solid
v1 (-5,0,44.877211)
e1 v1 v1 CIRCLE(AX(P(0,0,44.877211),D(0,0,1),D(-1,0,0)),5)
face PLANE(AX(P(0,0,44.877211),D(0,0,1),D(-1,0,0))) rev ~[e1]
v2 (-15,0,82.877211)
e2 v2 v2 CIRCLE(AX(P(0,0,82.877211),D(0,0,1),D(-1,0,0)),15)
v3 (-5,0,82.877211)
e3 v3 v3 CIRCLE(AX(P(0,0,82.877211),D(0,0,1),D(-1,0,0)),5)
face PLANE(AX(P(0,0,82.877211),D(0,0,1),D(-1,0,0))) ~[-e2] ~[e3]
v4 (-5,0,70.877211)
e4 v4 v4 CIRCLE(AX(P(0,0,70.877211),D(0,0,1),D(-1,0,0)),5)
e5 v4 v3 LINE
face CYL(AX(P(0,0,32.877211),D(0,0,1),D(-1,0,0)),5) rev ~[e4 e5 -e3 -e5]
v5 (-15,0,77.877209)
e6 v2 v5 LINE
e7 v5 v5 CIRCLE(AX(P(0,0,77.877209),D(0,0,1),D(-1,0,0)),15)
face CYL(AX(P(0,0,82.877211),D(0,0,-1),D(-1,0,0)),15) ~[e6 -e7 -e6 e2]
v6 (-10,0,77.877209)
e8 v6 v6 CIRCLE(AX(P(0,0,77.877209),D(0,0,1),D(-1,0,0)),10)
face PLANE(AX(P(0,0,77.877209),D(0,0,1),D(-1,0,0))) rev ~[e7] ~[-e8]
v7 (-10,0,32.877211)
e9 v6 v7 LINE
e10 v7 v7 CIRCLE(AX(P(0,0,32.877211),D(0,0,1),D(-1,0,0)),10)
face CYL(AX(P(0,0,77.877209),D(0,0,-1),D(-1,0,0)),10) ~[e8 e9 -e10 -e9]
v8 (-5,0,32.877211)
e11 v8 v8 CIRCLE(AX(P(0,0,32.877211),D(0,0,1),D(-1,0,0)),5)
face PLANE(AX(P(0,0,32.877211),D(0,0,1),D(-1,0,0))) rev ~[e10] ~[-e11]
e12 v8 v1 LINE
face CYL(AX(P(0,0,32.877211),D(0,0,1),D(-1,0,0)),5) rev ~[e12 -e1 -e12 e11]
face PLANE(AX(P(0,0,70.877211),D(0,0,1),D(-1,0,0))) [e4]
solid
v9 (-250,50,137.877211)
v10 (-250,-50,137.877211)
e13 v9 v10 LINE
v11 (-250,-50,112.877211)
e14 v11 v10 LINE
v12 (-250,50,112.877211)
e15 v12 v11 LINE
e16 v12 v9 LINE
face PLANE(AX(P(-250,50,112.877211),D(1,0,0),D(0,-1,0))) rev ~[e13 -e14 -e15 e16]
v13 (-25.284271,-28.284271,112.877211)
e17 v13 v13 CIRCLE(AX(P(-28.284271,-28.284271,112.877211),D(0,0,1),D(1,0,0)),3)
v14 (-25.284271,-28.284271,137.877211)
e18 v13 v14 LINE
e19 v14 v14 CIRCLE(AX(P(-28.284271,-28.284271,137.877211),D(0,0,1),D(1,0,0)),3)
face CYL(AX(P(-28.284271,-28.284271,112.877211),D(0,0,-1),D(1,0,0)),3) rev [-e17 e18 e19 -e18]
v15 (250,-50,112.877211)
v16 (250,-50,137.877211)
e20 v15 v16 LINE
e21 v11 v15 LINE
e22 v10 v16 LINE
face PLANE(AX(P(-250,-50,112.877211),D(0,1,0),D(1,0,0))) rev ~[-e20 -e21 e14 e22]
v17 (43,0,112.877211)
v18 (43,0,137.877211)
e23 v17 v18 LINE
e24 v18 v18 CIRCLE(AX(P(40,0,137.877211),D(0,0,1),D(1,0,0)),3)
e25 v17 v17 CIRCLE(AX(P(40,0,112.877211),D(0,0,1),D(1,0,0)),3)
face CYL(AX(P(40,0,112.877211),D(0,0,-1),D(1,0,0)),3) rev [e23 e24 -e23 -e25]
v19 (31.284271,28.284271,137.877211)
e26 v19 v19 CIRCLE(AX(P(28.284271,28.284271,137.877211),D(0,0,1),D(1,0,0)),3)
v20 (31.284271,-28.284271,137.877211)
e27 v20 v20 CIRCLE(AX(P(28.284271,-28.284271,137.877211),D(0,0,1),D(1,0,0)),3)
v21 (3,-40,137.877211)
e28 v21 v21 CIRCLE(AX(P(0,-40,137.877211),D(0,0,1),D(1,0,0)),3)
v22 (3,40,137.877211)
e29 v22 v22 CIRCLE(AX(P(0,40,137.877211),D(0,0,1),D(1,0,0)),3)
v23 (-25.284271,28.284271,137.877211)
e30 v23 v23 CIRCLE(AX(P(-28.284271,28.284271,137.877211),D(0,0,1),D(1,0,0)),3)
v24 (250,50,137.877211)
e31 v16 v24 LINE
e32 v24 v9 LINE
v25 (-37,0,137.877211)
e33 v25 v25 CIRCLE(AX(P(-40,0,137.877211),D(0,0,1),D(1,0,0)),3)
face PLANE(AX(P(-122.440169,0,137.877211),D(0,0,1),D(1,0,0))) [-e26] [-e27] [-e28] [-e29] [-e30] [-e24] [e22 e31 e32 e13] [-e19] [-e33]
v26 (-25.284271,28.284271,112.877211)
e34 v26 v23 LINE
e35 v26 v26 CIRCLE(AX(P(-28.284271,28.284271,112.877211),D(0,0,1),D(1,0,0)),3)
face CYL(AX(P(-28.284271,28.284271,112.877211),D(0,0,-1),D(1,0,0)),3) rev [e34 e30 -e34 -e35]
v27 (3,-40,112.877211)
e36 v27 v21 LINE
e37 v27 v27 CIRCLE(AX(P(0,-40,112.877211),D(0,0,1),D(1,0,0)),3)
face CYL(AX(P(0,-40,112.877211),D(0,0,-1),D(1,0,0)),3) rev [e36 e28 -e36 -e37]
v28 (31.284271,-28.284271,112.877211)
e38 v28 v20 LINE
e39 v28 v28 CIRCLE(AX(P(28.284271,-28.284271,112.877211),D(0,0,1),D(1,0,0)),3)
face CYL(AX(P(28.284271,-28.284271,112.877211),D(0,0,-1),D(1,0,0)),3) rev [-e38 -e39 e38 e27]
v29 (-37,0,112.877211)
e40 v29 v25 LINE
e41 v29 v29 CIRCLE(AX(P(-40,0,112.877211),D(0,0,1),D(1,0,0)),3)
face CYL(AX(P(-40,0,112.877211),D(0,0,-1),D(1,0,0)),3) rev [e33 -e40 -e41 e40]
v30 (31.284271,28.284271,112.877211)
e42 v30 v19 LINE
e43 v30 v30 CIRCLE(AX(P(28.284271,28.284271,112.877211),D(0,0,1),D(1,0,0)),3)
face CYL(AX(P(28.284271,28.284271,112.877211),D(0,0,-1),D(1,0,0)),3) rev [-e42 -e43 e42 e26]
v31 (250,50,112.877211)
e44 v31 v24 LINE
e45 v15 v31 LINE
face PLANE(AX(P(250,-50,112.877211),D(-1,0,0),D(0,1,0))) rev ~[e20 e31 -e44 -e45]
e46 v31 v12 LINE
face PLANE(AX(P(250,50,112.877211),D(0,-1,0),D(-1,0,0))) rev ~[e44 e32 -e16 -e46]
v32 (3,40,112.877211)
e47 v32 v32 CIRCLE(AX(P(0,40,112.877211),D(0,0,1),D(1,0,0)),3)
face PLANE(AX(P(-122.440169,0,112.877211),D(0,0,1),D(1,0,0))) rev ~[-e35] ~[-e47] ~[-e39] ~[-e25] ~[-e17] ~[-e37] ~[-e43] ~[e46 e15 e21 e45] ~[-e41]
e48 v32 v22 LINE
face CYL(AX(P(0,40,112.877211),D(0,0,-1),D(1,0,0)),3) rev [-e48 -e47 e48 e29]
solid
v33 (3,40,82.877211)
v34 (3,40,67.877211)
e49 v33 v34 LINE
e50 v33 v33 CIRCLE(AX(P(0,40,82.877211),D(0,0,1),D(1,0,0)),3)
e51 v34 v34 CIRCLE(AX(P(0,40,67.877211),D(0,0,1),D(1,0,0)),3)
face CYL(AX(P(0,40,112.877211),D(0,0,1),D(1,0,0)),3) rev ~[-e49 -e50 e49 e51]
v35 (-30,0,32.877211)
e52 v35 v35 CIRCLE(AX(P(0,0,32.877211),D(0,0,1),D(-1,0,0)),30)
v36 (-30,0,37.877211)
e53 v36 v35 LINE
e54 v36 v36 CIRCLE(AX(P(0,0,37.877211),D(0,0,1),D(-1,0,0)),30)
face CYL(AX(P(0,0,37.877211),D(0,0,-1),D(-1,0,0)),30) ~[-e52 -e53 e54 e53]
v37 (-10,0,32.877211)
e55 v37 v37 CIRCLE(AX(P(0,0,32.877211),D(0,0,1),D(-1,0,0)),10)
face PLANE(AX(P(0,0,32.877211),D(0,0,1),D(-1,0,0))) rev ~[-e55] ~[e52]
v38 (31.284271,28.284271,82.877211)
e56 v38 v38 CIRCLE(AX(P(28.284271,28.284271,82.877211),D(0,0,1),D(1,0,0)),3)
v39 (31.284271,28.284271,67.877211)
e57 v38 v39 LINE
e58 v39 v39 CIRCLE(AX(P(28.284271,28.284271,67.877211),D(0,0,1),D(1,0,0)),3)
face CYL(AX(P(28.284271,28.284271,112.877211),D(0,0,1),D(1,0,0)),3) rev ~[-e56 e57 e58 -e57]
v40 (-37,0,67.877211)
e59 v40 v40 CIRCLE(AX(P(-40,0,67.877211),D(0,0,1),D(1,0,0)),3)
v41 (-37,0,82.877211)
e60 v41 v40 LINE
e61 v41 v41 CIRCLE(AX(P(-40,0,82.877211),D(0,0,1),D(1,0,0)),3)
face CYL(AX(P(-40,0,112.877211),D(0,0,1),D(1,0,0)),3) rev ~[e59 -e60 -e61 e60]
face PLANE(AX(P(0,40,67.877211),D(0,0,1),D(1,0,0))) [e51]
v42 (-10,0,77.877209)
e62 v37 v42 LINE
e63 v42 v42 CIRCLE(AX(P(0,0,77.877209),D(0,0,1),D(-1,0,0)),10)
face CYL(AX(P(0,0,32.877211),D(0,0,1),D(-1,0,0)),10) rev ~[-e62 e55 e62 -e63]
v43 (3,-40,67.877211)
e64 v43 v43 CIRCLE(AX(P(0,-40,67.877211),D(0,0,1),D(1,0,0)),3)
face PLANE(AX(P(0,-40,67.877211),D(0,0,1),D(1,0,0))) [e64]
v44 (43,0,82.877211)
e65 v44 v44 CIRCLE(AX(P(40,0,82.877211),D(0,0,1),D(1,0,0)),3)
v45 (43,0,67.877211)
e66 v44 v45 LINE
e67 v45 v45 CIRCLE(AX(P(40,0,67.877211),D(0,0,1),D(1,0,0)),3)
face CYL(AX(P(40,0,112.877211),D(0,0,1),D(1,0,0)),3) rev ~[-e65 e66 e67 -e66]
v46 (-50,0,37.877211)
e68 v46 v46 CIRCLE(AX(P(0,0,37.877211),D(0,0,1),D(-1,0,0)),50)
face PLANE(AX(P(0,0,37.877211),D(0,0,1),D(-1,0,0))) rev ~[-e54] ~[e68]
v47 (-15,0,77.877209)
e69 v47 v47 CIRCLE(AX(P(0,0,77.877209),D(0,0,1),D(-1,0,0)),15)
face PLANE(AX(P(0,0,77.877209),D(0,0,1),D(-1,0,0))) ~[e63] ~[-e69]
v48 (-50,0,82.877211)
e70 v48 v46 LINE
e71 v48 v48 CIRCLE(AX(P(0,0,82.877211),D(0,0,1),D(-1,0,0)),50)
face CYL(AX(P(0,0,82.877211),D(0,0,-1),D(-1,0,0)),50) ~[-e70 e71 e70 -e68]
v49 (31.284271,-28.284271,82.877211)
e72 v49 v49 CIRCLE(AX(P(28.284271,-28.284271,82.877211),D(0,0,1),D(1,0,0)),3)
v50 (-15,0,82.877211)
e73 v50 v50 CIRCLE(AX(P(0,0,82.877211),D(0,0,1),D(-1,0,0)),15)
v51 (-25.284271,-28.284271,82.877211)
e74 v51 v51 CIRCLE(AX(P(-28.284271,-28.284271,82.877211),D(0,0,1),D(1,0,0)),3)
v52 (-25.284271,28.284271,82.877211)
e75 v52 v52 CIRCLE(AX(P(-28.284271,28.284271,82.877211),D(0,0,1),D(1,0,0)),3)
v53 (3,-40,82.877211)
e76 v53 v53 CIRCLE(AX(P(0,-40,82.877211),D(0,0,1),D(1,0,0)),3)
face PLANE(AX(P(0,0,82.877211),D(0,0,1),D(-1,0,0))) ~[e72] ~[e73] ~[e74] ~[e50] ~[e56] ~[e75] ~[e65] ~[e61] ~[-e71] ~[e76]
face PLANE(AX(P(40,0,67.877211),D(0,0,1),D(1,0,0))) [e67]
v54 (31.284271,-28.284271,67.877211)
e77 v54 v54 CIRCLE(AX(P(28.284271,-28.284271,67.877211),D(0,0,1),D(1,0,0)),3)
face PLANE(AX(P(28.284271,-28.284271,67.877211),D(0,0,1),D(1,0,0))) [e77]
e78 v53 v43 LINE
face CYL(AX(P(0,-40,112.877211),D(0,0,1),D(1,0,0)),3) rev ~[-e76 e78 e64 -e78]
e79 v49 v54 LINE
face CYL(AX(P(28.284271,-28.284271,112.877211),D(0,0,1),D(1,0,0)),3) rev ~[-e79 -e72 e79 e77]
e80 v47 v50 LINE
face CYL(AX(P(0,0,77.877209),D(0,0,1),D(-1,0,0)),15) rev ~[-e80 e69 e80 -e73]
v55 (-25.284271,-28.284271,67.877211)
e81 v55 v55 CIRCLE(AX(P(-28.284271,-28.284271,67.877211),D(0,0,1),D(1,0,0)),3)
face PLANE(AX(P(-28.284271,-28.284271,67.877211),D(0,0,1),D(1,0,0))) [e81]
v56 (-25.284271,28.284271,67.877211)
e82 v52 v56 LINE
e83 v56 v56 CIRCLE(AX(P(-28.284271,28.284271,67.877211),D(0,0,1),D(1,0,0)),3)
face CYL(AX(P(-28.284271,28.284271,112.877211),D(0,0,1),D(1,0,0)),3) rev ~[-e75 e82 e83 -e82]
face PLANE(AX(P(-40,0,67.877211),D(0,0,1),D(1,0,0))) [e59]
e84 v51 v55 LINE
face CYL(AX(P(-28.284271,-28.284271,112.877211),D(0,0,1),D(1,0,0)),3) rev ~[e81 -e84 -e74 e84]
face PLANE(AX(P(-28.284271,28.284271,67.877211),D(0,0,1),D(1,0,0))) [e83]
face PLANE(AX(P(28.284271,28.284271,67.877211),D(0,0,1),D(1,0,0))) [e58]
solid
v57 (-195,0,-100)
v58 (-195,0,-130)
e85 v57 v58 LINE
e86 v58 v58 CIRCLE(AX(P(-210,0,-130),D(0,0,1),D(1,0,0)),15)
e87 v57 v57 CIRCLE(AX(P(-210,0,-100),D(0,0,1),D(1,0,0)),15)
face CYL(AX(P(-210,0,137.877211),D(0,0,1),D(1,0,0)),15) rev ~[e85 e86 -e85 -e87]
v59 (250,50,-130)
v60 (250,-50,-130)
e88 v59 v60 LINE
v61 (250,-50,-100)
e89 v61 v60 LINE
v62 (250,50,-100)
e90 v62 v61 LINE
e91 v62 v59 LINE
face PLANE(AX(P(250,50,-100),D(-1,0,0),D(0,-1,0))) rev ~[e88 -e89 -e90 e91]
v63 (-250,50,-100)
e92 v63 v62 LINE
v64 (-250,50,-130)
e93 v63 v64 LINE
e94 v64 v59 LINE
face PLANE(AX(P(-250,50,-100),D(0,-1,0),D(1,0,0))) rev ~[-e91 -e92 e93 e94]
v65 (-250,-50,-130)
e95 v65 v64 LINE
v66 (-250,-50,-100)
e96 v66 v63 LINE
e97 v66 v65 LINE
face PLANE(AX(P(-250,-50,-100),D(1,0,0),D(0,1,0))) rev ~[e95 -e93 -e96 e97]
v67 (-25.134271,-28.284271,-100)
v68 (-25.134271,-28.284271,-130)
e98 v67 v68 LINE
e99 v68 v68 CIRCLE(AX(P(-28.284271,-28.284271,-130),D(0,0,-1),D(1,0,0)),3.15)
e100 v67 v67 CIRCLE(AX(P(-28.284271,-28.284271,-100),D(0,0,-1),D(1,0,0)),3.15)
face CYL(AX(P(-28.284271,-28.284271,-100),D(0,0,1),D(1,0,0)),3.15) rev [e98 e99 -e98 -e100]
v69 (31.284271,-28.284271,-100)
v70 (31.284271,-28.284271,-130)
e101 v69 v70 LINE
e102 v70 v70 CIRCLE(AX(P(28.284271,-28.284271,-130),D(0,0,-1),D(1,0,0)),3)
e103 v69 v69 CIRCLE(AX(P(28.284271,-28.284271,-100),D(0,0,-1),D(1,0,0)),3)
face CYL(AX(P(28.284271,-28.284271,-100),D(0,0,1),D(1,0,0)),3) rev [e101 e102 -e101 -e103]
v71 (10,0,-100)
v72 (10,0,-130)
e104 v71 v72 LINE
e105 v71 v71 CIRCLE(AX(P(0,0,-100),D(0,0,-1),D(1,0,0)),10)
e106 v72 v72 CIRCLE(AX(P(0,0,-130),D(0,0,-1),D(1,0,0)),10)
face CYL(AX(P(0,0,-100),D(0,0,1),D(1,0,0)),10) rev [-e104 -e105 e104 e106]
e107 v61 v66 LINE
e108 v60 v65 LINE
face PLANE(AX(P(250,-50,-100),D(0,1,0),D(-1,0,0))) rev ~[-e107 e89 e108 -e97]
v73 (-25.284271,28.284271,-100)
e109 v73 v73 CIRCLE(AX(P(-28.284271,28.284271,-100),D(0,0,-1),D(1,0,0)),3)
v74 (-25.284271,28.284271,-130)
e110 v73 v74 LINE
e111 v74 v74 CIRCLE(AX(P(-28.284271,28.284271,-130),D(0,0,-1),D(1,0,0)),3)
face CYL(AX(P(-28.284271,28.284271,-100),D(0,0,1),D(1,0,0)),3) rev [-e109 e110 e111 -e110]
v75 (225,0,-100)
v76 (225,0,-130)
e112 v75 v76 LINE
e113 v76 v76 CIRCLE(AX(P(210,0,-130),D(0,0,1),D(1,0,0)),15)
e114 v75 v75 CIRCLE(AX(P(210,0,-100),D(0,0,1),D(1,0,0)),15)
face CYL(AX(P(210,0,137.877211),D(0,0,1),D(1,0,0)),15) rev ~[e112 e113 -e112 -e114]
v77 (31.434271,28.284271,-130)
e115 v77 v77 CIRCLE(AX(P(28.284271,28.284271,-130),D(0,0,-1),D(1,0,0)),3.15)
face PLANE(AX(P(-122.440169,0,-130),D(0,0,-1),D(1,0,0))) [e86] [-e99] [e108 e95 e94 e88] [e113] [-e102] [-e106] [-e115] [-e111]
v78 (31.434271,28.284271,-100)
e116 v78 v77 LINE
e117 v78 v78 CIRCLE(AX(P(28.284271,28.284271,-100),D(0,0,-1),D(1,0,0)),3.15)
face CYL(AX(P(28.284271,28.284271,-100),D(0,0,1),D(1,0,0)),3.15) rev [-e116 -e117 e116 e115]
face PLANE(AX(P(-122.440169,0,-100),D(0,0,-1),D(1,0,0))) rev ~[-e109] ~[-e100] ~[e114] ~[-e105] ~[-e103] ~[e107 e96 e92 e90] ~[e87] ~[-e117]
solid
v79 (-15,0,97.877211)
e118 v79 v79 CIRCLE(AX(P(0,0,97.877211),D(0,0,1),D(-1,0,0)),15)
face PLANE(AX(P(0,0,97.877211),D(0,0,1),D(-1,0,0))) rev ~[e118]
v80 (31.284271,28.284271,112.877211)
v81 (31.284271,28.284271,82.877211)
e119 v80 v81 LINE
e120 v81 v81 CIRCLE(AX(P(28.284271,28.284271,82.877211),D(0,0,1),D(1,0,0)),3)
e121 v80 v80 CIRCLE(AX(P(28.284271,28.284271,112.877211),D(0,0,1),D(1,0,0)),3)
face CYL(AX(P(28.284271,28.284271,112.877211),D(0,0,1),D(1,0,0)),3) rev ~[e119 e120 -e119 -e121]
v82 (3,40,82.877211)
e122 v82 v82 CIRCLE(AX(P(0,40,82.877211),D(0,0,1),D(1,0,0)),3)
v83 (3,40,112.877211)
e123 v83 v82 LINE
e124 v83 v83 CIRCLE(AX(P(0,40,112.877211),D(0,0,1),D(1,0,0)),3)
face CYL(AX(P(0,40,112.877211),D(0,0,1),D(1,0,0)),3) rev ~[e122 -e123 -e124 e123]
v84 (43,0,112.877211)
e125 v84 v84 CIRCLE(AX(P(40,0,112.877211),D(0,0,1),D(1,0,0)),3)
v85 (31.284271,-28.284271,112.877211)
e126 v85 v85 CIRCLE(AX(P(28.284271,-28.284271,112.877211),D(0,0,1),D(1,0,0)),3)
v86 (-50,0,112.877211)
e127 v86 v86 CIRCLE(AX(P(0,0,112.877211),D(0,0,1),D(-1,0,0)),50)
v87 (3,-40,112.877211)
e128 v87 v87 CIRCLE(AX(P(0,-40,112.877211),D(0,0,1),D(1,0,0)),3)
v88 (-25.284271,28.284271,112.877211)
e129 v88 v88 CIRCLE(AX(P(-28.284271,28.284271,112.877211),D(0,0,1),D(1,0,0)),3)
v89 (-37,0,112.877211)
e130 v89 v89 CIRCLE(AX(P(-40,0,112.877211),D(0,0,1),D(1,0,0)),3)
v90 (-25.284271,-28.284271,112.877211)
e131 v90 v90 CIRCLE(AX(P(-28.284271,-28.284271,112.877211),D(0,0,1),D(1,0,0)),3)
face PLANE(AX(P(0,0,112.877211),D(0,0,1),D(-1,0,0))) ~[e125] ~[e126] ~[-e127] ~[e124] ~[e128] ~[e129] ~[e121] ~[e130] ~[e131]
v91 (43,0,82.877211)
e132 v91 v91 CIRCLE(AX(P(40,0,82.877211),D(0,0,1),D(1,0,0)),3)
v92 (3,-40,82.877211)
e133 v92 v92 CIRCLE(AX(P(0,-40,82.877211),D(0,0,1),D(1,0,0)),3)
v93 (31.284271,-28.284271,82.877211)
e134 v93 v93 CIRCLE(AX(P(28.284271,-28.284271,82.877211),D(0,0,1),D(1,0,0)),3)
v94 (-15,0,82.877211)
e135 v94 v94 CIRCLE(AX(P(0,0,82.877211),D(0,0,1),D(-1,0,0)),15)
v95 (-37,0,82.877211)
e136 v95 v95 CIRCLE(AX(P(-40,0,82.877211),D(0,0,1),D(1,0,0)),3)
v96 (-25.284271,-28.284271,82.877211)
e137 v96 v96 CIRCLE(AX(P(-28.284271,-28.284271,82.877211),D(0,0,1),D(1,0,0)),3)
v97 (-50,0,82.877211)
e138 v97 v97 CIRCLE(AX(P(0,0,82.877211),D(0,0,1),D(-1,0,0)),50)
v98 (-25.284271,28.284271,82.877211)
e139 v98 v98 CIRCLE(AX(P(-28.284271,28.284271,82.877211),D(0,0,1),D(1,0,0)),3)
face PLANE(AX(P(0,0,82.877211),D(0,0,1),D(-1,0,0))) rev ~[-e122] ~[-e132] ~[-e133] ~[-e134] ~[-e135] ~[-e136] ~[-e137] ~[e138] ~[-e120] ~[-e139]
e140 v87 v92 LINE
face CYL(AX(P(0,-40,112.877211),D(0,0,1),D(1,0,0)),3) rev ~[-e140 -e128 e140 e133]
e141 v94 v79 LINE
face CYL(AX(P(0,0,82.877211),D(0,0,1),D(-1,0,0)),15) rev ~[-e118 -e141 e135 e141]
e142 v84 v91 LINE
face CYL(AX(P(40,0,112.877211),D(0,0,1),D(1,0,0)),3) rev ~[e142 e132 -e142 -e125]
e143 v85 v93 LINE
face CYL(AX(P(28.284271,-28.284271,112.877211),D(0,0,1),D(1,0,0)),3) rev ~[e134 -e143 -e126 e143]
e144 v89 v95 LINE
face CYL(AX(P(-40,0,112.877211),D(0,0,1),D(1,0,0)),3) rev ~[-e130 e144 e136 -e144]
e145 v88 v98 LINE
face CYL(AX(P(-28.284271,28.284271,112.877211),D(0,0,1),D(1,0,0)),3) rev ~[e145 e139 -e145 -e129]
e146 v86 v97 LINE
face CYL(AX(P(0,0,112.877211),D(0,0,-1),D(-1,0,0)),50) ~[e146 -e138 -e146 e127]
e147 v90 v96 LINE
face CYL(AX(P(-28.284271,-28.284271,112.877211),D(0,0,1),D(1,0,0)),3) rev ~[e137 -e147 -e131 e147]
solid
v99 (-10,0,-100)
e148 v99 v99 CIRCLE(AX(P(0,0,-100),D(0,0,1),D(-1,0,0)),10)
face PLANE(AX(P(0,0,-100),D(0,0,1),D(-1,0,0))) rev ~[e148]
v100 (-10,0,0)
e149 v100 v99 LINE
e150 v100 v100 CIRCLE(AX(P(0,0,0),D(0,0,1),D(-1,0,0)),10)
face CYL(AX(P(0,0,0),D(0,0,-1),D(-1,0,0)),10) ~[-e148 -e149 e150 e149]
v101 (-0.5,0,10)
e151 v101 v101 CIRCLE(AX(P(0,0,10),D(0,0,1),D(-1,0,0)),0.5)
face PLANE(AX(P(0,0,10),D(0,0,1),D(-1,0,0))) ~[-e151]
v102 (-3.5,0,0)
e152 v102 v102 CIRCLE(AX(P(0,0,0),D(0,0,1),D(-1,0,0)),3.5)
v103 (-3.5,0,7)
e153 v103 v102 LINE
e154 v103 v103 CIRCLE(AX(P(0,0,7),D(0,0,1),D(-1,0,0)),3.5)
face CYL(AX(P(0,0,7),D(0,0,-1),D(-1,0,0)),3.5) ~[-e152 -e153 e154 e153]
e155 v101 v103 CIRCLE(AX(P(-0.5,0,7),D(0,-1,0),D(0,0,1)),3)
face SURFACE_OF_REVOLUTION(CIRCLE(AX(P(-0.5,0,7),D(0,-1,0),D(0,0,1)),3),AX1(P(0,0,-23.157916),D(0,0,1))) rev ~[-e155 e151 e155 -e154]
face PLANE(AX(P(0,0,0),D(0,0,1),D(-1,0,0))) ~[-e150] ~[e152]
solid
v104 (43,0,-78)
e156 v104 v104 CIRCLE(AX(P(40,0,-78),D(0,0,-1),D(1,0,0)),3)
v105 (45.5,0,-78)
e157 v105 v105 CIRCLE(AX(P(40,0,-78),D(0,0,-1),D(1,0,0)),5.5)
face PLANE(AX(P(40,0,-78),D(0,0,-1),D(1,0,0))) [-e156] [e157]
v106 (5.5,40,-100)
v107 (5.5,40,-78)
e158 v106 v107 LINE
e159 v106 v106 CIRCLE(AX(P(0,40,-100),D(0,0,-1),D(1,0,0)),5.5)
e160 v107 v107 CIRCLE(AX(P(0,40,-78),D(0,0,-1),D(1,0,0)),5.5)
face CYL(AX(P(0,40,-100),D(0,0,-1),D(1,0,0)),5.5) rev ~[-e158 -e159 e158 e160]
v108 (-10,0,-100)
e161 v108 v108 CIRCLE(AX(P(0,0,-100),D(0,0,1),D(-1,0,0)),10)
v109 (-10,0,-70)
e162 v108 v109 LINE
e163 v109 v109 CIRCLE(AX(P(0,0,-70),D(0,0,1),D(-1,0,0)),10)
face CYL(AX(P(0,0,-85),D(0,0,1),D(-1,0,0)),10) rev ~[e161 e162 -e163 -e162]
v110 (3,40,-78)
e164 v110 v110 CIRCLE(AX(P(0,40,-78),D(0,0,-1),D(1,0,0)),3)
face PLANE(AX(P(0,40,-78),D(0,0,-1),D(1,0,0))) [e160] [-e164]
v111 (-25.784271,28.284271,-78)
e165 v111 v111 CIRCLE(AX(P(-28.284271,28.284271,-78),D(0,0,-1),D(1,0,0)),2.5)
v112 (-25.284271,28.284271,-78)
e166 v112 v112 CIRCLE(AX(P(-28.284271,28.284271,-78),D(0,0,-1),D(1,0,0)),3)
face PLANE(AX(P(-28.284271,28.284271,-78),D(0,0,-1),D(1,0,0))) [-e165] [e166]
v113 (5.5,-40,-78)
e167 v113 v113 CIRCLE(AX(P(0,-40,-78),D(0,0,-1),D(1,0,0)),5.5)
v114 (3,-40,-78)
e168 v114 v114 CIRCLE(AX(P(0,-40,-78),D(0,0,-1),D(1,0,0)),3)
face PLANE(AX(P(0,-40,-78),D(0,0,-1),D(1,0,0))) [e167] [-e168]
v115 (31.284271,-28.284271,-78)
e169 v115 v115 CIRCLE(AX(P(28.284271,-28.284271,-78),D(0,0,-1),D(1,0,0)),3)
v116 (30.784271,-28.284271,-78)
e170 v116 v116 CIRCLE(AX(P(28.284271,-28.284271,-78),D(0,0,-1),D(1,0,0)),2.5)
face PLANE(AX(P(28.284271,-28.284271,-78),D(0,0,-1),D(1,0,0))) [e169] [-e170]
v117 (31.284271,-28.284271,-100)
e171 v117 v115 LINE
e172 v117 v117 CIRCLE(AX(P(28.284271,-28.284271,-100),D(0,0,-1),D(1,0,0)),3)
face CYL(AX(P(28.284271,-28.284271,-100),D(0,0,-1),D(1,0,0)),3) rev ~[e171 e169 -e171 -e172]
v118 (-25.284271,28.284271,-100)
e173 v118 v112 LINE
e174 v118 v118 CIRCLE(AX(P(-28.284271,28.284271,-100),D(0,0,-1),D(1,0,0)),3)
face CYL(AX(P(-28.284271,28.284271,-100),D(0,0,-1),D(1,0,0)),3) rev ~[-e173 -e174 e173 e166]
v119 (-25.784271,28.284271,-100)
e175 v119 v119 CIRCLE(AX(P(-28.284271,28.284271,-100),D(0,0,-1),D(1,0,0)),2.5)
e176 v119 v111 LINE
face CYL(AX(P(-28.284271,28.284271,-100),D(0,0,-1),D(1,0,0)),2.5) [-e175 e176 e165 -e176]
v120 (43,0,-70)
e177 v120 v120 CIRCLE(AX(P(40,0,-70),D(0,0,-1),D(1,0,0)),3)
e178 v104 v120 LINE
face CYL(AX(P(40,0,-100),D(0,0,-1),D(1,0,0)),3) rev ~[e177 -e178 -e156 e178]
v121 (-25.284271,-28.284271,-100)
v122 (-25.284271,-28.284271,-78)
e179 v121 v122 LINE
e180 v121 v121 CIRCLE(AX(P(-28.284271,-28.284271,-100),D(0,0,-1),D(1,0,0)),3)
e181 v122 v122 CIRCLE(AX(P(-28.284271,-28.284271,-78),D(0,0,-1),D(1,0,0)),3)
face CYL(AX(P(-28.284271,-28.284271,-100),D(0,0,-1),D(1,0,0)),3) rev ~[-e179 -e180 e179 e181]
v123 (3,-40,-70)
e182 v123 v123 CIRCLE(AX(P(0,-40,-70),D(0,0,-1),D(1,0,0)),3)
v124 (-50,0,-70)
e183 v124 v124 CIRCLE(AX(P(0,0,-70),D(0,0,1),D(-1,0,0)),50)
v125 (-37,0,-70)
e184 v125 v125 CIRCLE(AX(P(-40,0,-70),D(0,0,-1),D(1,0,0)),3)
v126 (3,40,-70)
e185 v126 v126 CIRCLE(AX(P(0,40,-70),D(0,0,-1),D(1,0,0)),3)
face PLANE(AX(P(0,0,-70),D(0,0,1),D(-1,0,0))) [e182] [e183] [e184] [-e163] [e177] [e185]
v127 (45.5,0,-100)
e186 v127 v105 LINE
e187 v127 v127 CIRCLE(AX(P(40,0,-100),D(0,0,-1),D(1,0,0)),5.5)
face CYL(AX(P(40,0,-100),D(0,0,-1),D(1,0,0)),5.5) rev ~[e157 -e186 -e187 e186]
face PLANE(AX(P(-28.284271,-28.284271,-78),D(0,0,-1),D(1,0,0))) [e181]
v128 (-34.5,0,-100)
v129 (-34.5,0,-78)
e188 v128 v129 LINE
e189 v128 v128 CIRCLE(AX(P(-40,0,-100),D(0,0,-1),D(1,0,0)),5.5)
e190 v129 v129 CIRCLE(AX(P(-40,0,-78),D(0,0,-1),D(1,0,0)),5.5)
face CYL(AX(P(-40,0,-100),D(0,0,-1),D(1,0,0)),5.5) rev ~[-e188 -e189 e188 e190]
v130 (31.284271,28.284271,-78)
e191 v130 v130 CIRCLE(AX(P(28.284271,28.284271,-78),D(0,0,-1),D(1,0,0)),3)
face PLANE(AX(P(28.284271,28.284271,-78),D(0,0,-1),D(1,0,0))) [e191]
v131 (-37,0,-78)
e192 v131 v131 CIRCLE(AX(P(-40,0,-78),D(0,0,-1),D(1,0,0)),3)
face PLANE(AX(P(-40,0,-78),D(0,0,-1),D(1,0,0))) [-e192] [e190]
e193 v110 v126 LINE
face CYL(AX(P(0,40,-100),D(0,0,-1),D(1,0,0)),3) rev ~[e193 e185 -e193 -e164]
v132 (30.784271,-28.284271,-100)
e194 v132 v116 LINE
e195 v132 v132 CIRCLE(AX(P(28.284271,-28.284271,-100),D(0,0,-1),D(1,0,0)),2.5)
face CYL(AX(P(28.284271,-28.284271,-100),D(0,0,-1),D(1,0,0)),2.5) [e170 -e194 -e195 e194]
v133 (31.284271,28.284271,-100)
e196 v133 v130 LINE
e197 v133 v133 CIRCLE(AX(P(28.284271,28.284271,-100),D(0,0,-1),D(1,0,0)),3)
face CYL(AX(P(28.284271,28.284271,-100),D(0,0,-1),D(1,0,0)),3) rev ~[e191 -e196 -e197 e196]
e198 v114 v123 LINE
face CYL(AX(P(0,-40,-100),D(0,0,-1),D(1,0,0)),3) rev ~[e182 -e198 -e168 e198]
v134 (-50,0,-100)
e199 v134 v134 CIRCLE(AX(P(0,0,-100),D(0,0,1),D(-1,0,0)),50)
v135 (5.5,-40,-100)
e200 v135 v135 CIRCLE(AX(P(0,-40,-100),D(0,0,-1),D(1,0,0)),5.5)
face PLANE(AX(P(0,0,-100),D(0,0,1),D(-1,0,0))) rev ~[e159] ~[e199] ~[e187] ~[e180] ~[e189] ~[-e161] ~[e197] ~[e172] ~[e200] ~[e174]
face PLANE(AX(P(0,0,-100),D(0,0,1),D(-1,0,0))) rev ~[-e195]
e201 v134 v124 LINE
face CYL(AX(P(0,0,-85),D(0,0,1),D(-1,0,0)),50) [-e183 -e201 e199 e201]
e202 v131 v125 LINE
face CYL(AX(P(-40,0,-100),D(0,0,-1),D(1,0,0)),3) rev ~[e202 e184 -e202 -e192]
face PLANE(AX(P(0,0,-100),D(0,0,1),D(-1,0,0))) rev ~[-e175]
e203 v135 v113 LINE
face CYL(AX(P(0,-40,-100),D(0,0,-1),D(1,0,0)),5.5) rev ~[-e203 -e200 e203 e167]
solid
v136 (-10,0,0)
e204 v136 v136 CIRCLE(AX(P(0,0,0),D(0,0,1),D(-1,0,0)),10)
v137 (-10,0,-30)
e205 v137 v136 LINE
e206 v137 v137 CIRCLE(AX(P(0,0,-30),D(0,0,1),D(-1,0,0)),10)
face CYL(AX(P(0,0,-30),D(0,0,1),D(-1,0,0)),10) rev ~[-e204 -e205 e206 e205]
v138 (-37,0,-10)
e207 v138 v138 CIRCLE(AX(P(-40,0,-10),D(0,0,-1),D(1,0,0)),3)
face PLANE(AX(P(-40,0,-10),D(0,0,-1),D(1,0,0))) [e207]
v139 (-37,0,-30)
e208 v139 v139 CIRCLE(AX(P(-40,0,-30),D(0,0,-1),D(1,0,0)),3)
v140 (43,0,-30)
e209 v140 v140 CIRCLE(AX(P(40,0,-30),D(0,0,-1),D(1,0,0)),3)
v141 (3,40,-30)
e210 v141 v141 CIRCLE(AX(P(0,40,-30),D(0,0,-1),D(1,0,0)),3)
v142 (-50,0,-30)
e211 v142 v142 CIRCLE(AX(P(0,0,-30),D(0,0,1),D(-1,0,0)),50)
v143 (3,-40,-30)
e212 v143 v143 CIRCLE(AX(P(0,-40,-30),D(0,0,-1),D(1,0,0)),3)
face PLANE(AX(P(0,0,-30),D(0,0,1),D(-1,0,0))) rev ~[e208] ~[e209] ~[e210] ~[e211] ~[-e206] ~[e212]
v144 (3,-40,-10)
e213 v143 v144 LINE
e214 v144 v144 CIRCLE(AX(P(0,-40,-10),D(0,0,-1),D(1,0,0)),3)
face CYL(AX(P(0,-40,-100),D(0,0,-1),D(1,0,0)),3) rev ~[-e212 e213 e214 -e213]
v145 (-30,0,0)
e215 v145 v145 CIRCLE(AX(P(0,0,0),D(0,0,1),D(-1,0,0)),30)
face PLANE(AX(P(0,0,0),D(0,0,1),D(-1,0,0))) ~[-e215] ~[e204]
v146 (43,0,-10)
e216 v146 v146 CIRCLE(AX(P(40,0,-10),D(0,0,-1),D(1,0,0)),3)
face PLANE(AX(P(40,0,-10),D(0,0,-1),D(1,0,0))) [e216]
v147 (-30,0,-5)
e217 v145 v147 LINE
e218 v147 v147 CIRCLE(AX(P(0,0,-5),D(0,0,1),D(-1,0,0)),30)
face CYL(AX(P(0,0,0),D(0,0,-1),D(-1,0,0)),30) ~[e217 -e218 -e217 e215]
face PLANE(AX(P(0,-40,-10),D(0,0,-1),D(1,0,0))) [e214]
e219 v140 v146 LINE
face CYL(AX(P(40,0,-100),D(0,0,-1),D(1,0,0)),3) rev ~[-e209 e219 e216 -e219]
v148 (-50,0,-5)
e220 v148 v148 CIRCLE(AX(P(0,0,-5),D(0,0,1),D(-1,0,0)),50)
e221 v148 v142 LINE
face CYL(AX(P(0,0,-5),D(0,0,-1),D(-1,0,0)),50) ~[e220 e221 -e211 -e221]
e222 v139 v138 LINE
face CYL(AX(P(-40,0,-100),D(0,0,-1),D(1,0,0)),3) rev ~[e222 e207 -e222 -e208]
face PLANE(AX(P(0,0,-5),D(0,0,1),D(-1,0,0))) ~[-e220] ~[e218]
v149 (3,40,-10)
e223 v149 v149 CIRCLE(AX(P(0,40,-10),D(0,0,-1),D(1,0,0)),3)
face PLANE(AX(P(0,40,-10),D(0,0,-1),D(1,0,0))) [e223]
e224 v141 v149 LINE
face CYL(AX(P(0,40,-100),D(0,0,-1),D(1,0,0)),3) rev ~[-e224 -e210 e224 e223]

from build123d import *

# Parameters (mm, degrees)
F0_W      = 40
F0_H      = 30
F4_R      = 3
F5_DEPTH  = 90
F4_R_2    = 5.5
F4_R_3    = 2.5
F6_DEPTH  = 22
F4_R_4    = 3.15
F4_R_5    = 10
F7_DEPTH  = 30
F8_W      = 4.9999998882
F8_H      = 26
F12_R     = 3
F13_DEPTH = 45
F14_DEPTH = 25
F15_R     = 15
F16_DEPTH = 300


with BuildPart() as f1:
    # F0 (on Front) → F1 (revolve)
    with BuildSketch(Plane.XZ):
        Polygon((-10, 0), (-30, 0), (-30, -5), (-50, -5), (-50, -30), (-10, -30), align=None)
    revolve(axis=Axis((0, 0, -23.157916218), (0, 0, 1)))


with BuildPart() as f2:
    # F0 (on Front) → F2 (revolve)
    with BuildSketch(Plane.XZ):
        with BuildLine():
            Line((-3.5, 0), (-10, 0))
            Line((-10, 0), (-10, -30))
            Line((-10, -30), (-10, -70))
            Line((-10, -70), (-10, -100))
            Line((-10, -100), (0, -100))
            Line((0, -100), (0, 10))
            Line((0, 10), (-0.5, 10))
            ThreePointArc((-0.5, 10), (-2.6213203436, 9.1213203436), (-3.5, 7))
            Line((-3.5, 7), (-3.5, 0))
        make_face()
    revolve(axis=Axis((0, 0, -23.157916218), (0, 0, 1)))


with BuildPart() as f3:
    # F0 (on Front) → F3 (revolve)
    with BuildSketch(Plane.XZ):
        with Locations((-30, -85)):
            Rectangle(F0_W, F0_H)
    revolve(axis=Axis((0, 0, -23.157916218), (0, 0, 1)))


with BuildPart() as f5_tool:
    # F4 (on face) → F5 (new body)
    with BuildSketch(Plane(origin=(0, 0, -100), x_dir=(1, 0, 0), z_dir=(0, 0, -1))):
        with Locations((0, -40)):
            Circle(F4_R)
        with Locations((-40, 0)):
            Circle(F4_R)
        with Locations((0, 40)):
            Circle(F4_R)
        with Locations((40, 0)):
            Circle(F4_R)
    extrude(amount=-F5_DEPTH)


with BuildPart() as f1_1:
    add(f1.part)

    # F5: cut by f5_tool
    add(f5_tool.part, mode=Mode.SUBTRACT)


with BuildPart() as f3_1:
    add(f3.part)

    # F5: cut by f5_tool
    add(f5_tool.part, mode=Mode.SUBTRACT)

    # F4 (on face) → F6 (cut)
    with BuildSketch(Plane(origin=(0, 0, -100), x_dir=(1, 0, 0), z_dir=(0, 0, -1))):
        with Locations((-40, 0)):
            Circle(F4_R_2)
        with Locations((-40, 0)):
            Circle(F4_R, mode=Mode.SUBTRACT)
        with Locations((0, -40)):
            Circle(F4_R_2)
        with Locations((0, -40)):
            Circle(F4_R, mode=Mode.SUBTRACT)
        with Locations((40, 0)):
            Circle(F4_R_2)
        with Locations((40, 0)):
            Circle(F4_R, mode=Mode.SUBTRACT)
        with Locations((0, 40)):
            Circle(F4_R_2)
        with Locations((0, 40)):
            Circle(F4_R, mode=Mode.SUBTRACT)
        with Locations((28.2842712475, -28.2842712475)):
            Circle(F4_R)
        with Locations((-28.2842712475, -28.2842712475)):
            Circle(F4_R)
        with Locations((-28.2842712475, -28.2842712475)):
            Circle(F4_R_3, mode=Mode.SUBTRACT)
        with Locations((-28.2842712475, 28.2842712475)):
            Circle(F4_R)
        with Locations((28.2842712475, 28.2842712475)):
            Circle(F4_R)
        with Locations((28.2842712475, 28.2842712475)):
            Circle(F4_R_3, mode=Mode.SUBTRACT)
    extrude(amount=-F6_DEPTH, mode=Mode.SUBTRACT)


with BuildPart() as f7:
    # F4 (on face) → F7 (new body)
    with BuildSketch(Plane(origin=(0, 0, -100), x_dir=(1, 0, 0), z_dir=(0, 0, -1))):
        with BuildLine():
            Line((-250, 50), (-250, -50))
            Line((-250, -50), (0, -50))
            ThreePointArc((0, -50), (-50, 0), (0, 50))
            Line((0, 50), (-250, 50))
        make_face()
        with BuildLine():
            ThreePointArc((50, 0), (35.3553390593, -35.3553390593), (0, -50))
            Line((0, -50), (250, -50))
            Line((250, -50), (250, 50))
            Line((250, 50), (0, 50))
            ThreePointArc((0, 50), (35.3553390593, 35.3553390593), (50, 0))
        make_face()
        with BuildLine():
            ThreePointArc((0, 50), (-50, 0), (0, -50))
            ThreePointArc((0, -50), (35.3553390593, -35.3553390593), (50, 0))
            ThreePointArc((50, 0), (35.3553390593, 35.3553390593), (0, 50))
        make_face()
        with Locations((-28.2842712475, -28.2842712475)):
            Circle(F4_R, mode=Mode.SUBTRACT)
        with Locations((0, -40)):
            Circle(F4_R_2, mode=Mode.SUBTRACT)
        with Locations((28.2842712475, -28.2842712475)):
            Circle(F4_R_4, mode=Mode.SUBTRACT)
        with Locations((-40, 0)):
            Circle(F4_R_2, mode=Mode.SUBTRACT)
        with Locations((-28.2842712475, 28.2842712475)):
            Circle(F4_R_4, mode=Mode.SUBTRACT)
        Circle(F4_R_5, mode=Mode.SUBTRACT)
        with Locations((40, 0)):
            Circle(F4_R_2, mode=Mode.SUBTRACT)
        with Locations((28.2842712475, 28.2842712475)):
            Circle(F4_R, mode=Mode.SUBTRACT)
        with Locations((0, 40)):
            Circle(F4_R_2, mode=Mode.SUBTRACT)
        with Locations((0, -40)):
            Circle(F4_R_2)
        with Locations((0, -40)):
            Circle(F4_R, mode=Mode.SUBTRACT)
        with Locations((0, -40)):
            Circle(F4_R)
        with Locations((40, 0)):
            Circle(F4_R_2)
        with Locations((40, 0)):
            Circle(F4_R, mode=Mode.SUBTRACT)
        with Locations((40, 0)):
            Circle(F4_R)
        with Locations((0, 40)):
            Circle(F4_R_2)
        with Locations((0, 40)):
            Circle(F4_R, mode=Mode.SUBTRACT)
        with Locations((0, 40)):
            Circle(F4_R)
        with Locations((-40, 0)):
            Circle(F4_R_2)
        with Locations((-40, 0)):
            Circle(F4_R, mode=Mode.SUBTRACT)
        with Locations((-40, 0)):
            Circle(F4_R)
    extrude(amount=F7_DEPTH)

    # F15 (on face) → F16 (cut)
    with BuildSketch(Plane.XY.offset(137.8772112727)):
        with Locations((210, 0)):
            Circle(F15_R)
        with Locations((-210, 0)):
            Circle(F15_R)
    extrude(amount=-F16_DEPTH, mode=Mode.SUBTRACT)


with BuildPart() as f9:
    # F8 (on Front) → F9 (revolve)
    with BuildSketch(Plane.XZ):
        Polygon((-4.9999998882, 32.8772112727), (-4.9999998882, 44.8772112727), (-4.9999998882, 70.8772112727), (-4.9999998882, 82.8772112727), (-14.9999996647, 82.8772112727), (-14.9999996647, 77.8772085905), (-10, 77.8772085905), (-10, 32.8772112727), align=None)
        with Locations((-2.4999999441, 57.8772112727)):
            Rectangle(F8_W, F8_H)
    revolve(axis=Axis((0, 0, -14.5613943636), (0, 0, 1)))


with BuildPart() as f10:
    # F8 (on Front) → F10 (revolve)
    with BuildSketch(Plane.XZ):
        Polygon((-30, 32.8772112727), (-10, 32.8772112727), (-10, 77.8772085905), (-14.9999996647, 77.8772085905), (-14.9999996647, 82.8772112727), (-50, 82.8772112727), (-50, 37.8772112727), (-30, 37.8772112727), align=None)
    revolve(axis=Axis((0, 0, -14.5613943636), (0, 0, 1)))


with BuildPart() as f11:
    # F8 (on Front) → F11 (revolve)
    with BuildSketch(Plane.XZ):
        Polygon((-50, 82.8772112727), (-14.9999996647, 82.8772112727), (-14.9999996647, 97.8772112727), (0, 97.8772112727), (0, 112.8772112727), (-50, 112.8772112727), align=None)
    revolve(axis=Axis((0, 0, 105.3772112727), (0, 0, 1)))


with BuildPart() as f13_tool:
    # F12 (on face) → F13 (new body)
    with BuildSketch(Plane.XY.offset(112.8772112727)):
        with Locations((-28.2842712475, -28.2842712475)):
            Circle(F12_R)
        with Locations((28.2842712475, -28.2842712475)):
            Circle(F12_R)
        with Locations((28.2842712475, 28.2842712475)):
            Circle(F12_R)
        with Locations((-28.2842712475, 28.2842712475)):
            Circle(F12_R)
        with Locations((-40, 0)):
            Circle(F12_R)
        with Locations((0, -40)):
            Circle(F12_R)
        with Locations((40, 0)):
            Circle(F12_R)
        with Locations((0, 40)):
            Circle(F12_R)
    extrude(amount=-F13_DEPTH)


with BuildPart() as f10_1:
    add(f10.part)

    # F13: cut by f13_tool
    add(f13_tool.part, mode=Mode.SUBTRACT)


with BuildPart() as f11_1:
    add(f11.part)

    # F13: cut by f13_tool
    add(f13_tool.part, mode=Mode.SUBTRACT)


with BuildPart() as f14:
    # F12 (on face) → F14 (new body)
    with BuildSketch(Plane.XY.offset(112.8772112727)):
        with BuildLine():
            ThreePointArc((-2.072e-07, -50), (-50, 1.71e-07), (1.348e-07, 50))
            Line((1.348e-07, 50), (-250, 50))
            Line((-250, 50), (-250, -50))
            Line((-250, -50), (-2.072e-07, -50))
        make_face()
        with BuildLine():
            Line((250, -50), (250, 50))
            Line((250, 50), (1.348e-07, 50))
            ThreePointArc((1.348e-07, 50), (35.355339107, 35.3553390117), (50, 0))
            ThreePointArc((50, 0), (35.3553389861, -35.3553391326), (-2.072e-07, -50))
            Line((-2.072e-07, -50), (250, -50))
        make_face()
        with BuildLine():
            ThreePointArc((50, 0), (35.355339107, 35.3553390117), (1.348e-07, 50))
            ThreePointArc((1.348e-07, 50), (-50, 1.71e-07), (-2.072e-07, -50))
            ThreePointArc((-2.072e-07, -50), (35.3553389861, -35.3553391326), (50, 0))
        make_face()
        with Locations((-28.2842712475, -28.2842712475)):
            Circle(F12_R, mode=Mode.SUBTRACT)
        with Locations((0, -40)):
            Circle(F12_R, mode=Mode.SUBTRACT)
        with Locations((28.2842712475, -28.2842712475)):
            Circle(F12_R, mode=Mode.SUBTRACT)
        with Locations((-40, 0)):
            Circle(F12_R, mode=Mode.SUBTRACT)
        with Locations((-28.2842712475, 28.2842712475)):
            Circle(F12_R, mode=Mode.SUBTRACT)
        with Locations((40, 0)):
            Circle(F12_R, mode=Mode.SUBTRACT)
        with Locations((28.2842712475, 28.2842712475)):
            Circle(F12_R, mode=Mode.SUBTRACT)
        with Locations((0, 40)):
            Circle(F12_R, mode=Mode.SUBTRACT)
    extrude(amount=F14_DEPTH)


solid = Compound([f2.part, f1_1.part, f3_1.part, f7.part, f9.part, f10_1.part, f11_1.part, f14.part])
